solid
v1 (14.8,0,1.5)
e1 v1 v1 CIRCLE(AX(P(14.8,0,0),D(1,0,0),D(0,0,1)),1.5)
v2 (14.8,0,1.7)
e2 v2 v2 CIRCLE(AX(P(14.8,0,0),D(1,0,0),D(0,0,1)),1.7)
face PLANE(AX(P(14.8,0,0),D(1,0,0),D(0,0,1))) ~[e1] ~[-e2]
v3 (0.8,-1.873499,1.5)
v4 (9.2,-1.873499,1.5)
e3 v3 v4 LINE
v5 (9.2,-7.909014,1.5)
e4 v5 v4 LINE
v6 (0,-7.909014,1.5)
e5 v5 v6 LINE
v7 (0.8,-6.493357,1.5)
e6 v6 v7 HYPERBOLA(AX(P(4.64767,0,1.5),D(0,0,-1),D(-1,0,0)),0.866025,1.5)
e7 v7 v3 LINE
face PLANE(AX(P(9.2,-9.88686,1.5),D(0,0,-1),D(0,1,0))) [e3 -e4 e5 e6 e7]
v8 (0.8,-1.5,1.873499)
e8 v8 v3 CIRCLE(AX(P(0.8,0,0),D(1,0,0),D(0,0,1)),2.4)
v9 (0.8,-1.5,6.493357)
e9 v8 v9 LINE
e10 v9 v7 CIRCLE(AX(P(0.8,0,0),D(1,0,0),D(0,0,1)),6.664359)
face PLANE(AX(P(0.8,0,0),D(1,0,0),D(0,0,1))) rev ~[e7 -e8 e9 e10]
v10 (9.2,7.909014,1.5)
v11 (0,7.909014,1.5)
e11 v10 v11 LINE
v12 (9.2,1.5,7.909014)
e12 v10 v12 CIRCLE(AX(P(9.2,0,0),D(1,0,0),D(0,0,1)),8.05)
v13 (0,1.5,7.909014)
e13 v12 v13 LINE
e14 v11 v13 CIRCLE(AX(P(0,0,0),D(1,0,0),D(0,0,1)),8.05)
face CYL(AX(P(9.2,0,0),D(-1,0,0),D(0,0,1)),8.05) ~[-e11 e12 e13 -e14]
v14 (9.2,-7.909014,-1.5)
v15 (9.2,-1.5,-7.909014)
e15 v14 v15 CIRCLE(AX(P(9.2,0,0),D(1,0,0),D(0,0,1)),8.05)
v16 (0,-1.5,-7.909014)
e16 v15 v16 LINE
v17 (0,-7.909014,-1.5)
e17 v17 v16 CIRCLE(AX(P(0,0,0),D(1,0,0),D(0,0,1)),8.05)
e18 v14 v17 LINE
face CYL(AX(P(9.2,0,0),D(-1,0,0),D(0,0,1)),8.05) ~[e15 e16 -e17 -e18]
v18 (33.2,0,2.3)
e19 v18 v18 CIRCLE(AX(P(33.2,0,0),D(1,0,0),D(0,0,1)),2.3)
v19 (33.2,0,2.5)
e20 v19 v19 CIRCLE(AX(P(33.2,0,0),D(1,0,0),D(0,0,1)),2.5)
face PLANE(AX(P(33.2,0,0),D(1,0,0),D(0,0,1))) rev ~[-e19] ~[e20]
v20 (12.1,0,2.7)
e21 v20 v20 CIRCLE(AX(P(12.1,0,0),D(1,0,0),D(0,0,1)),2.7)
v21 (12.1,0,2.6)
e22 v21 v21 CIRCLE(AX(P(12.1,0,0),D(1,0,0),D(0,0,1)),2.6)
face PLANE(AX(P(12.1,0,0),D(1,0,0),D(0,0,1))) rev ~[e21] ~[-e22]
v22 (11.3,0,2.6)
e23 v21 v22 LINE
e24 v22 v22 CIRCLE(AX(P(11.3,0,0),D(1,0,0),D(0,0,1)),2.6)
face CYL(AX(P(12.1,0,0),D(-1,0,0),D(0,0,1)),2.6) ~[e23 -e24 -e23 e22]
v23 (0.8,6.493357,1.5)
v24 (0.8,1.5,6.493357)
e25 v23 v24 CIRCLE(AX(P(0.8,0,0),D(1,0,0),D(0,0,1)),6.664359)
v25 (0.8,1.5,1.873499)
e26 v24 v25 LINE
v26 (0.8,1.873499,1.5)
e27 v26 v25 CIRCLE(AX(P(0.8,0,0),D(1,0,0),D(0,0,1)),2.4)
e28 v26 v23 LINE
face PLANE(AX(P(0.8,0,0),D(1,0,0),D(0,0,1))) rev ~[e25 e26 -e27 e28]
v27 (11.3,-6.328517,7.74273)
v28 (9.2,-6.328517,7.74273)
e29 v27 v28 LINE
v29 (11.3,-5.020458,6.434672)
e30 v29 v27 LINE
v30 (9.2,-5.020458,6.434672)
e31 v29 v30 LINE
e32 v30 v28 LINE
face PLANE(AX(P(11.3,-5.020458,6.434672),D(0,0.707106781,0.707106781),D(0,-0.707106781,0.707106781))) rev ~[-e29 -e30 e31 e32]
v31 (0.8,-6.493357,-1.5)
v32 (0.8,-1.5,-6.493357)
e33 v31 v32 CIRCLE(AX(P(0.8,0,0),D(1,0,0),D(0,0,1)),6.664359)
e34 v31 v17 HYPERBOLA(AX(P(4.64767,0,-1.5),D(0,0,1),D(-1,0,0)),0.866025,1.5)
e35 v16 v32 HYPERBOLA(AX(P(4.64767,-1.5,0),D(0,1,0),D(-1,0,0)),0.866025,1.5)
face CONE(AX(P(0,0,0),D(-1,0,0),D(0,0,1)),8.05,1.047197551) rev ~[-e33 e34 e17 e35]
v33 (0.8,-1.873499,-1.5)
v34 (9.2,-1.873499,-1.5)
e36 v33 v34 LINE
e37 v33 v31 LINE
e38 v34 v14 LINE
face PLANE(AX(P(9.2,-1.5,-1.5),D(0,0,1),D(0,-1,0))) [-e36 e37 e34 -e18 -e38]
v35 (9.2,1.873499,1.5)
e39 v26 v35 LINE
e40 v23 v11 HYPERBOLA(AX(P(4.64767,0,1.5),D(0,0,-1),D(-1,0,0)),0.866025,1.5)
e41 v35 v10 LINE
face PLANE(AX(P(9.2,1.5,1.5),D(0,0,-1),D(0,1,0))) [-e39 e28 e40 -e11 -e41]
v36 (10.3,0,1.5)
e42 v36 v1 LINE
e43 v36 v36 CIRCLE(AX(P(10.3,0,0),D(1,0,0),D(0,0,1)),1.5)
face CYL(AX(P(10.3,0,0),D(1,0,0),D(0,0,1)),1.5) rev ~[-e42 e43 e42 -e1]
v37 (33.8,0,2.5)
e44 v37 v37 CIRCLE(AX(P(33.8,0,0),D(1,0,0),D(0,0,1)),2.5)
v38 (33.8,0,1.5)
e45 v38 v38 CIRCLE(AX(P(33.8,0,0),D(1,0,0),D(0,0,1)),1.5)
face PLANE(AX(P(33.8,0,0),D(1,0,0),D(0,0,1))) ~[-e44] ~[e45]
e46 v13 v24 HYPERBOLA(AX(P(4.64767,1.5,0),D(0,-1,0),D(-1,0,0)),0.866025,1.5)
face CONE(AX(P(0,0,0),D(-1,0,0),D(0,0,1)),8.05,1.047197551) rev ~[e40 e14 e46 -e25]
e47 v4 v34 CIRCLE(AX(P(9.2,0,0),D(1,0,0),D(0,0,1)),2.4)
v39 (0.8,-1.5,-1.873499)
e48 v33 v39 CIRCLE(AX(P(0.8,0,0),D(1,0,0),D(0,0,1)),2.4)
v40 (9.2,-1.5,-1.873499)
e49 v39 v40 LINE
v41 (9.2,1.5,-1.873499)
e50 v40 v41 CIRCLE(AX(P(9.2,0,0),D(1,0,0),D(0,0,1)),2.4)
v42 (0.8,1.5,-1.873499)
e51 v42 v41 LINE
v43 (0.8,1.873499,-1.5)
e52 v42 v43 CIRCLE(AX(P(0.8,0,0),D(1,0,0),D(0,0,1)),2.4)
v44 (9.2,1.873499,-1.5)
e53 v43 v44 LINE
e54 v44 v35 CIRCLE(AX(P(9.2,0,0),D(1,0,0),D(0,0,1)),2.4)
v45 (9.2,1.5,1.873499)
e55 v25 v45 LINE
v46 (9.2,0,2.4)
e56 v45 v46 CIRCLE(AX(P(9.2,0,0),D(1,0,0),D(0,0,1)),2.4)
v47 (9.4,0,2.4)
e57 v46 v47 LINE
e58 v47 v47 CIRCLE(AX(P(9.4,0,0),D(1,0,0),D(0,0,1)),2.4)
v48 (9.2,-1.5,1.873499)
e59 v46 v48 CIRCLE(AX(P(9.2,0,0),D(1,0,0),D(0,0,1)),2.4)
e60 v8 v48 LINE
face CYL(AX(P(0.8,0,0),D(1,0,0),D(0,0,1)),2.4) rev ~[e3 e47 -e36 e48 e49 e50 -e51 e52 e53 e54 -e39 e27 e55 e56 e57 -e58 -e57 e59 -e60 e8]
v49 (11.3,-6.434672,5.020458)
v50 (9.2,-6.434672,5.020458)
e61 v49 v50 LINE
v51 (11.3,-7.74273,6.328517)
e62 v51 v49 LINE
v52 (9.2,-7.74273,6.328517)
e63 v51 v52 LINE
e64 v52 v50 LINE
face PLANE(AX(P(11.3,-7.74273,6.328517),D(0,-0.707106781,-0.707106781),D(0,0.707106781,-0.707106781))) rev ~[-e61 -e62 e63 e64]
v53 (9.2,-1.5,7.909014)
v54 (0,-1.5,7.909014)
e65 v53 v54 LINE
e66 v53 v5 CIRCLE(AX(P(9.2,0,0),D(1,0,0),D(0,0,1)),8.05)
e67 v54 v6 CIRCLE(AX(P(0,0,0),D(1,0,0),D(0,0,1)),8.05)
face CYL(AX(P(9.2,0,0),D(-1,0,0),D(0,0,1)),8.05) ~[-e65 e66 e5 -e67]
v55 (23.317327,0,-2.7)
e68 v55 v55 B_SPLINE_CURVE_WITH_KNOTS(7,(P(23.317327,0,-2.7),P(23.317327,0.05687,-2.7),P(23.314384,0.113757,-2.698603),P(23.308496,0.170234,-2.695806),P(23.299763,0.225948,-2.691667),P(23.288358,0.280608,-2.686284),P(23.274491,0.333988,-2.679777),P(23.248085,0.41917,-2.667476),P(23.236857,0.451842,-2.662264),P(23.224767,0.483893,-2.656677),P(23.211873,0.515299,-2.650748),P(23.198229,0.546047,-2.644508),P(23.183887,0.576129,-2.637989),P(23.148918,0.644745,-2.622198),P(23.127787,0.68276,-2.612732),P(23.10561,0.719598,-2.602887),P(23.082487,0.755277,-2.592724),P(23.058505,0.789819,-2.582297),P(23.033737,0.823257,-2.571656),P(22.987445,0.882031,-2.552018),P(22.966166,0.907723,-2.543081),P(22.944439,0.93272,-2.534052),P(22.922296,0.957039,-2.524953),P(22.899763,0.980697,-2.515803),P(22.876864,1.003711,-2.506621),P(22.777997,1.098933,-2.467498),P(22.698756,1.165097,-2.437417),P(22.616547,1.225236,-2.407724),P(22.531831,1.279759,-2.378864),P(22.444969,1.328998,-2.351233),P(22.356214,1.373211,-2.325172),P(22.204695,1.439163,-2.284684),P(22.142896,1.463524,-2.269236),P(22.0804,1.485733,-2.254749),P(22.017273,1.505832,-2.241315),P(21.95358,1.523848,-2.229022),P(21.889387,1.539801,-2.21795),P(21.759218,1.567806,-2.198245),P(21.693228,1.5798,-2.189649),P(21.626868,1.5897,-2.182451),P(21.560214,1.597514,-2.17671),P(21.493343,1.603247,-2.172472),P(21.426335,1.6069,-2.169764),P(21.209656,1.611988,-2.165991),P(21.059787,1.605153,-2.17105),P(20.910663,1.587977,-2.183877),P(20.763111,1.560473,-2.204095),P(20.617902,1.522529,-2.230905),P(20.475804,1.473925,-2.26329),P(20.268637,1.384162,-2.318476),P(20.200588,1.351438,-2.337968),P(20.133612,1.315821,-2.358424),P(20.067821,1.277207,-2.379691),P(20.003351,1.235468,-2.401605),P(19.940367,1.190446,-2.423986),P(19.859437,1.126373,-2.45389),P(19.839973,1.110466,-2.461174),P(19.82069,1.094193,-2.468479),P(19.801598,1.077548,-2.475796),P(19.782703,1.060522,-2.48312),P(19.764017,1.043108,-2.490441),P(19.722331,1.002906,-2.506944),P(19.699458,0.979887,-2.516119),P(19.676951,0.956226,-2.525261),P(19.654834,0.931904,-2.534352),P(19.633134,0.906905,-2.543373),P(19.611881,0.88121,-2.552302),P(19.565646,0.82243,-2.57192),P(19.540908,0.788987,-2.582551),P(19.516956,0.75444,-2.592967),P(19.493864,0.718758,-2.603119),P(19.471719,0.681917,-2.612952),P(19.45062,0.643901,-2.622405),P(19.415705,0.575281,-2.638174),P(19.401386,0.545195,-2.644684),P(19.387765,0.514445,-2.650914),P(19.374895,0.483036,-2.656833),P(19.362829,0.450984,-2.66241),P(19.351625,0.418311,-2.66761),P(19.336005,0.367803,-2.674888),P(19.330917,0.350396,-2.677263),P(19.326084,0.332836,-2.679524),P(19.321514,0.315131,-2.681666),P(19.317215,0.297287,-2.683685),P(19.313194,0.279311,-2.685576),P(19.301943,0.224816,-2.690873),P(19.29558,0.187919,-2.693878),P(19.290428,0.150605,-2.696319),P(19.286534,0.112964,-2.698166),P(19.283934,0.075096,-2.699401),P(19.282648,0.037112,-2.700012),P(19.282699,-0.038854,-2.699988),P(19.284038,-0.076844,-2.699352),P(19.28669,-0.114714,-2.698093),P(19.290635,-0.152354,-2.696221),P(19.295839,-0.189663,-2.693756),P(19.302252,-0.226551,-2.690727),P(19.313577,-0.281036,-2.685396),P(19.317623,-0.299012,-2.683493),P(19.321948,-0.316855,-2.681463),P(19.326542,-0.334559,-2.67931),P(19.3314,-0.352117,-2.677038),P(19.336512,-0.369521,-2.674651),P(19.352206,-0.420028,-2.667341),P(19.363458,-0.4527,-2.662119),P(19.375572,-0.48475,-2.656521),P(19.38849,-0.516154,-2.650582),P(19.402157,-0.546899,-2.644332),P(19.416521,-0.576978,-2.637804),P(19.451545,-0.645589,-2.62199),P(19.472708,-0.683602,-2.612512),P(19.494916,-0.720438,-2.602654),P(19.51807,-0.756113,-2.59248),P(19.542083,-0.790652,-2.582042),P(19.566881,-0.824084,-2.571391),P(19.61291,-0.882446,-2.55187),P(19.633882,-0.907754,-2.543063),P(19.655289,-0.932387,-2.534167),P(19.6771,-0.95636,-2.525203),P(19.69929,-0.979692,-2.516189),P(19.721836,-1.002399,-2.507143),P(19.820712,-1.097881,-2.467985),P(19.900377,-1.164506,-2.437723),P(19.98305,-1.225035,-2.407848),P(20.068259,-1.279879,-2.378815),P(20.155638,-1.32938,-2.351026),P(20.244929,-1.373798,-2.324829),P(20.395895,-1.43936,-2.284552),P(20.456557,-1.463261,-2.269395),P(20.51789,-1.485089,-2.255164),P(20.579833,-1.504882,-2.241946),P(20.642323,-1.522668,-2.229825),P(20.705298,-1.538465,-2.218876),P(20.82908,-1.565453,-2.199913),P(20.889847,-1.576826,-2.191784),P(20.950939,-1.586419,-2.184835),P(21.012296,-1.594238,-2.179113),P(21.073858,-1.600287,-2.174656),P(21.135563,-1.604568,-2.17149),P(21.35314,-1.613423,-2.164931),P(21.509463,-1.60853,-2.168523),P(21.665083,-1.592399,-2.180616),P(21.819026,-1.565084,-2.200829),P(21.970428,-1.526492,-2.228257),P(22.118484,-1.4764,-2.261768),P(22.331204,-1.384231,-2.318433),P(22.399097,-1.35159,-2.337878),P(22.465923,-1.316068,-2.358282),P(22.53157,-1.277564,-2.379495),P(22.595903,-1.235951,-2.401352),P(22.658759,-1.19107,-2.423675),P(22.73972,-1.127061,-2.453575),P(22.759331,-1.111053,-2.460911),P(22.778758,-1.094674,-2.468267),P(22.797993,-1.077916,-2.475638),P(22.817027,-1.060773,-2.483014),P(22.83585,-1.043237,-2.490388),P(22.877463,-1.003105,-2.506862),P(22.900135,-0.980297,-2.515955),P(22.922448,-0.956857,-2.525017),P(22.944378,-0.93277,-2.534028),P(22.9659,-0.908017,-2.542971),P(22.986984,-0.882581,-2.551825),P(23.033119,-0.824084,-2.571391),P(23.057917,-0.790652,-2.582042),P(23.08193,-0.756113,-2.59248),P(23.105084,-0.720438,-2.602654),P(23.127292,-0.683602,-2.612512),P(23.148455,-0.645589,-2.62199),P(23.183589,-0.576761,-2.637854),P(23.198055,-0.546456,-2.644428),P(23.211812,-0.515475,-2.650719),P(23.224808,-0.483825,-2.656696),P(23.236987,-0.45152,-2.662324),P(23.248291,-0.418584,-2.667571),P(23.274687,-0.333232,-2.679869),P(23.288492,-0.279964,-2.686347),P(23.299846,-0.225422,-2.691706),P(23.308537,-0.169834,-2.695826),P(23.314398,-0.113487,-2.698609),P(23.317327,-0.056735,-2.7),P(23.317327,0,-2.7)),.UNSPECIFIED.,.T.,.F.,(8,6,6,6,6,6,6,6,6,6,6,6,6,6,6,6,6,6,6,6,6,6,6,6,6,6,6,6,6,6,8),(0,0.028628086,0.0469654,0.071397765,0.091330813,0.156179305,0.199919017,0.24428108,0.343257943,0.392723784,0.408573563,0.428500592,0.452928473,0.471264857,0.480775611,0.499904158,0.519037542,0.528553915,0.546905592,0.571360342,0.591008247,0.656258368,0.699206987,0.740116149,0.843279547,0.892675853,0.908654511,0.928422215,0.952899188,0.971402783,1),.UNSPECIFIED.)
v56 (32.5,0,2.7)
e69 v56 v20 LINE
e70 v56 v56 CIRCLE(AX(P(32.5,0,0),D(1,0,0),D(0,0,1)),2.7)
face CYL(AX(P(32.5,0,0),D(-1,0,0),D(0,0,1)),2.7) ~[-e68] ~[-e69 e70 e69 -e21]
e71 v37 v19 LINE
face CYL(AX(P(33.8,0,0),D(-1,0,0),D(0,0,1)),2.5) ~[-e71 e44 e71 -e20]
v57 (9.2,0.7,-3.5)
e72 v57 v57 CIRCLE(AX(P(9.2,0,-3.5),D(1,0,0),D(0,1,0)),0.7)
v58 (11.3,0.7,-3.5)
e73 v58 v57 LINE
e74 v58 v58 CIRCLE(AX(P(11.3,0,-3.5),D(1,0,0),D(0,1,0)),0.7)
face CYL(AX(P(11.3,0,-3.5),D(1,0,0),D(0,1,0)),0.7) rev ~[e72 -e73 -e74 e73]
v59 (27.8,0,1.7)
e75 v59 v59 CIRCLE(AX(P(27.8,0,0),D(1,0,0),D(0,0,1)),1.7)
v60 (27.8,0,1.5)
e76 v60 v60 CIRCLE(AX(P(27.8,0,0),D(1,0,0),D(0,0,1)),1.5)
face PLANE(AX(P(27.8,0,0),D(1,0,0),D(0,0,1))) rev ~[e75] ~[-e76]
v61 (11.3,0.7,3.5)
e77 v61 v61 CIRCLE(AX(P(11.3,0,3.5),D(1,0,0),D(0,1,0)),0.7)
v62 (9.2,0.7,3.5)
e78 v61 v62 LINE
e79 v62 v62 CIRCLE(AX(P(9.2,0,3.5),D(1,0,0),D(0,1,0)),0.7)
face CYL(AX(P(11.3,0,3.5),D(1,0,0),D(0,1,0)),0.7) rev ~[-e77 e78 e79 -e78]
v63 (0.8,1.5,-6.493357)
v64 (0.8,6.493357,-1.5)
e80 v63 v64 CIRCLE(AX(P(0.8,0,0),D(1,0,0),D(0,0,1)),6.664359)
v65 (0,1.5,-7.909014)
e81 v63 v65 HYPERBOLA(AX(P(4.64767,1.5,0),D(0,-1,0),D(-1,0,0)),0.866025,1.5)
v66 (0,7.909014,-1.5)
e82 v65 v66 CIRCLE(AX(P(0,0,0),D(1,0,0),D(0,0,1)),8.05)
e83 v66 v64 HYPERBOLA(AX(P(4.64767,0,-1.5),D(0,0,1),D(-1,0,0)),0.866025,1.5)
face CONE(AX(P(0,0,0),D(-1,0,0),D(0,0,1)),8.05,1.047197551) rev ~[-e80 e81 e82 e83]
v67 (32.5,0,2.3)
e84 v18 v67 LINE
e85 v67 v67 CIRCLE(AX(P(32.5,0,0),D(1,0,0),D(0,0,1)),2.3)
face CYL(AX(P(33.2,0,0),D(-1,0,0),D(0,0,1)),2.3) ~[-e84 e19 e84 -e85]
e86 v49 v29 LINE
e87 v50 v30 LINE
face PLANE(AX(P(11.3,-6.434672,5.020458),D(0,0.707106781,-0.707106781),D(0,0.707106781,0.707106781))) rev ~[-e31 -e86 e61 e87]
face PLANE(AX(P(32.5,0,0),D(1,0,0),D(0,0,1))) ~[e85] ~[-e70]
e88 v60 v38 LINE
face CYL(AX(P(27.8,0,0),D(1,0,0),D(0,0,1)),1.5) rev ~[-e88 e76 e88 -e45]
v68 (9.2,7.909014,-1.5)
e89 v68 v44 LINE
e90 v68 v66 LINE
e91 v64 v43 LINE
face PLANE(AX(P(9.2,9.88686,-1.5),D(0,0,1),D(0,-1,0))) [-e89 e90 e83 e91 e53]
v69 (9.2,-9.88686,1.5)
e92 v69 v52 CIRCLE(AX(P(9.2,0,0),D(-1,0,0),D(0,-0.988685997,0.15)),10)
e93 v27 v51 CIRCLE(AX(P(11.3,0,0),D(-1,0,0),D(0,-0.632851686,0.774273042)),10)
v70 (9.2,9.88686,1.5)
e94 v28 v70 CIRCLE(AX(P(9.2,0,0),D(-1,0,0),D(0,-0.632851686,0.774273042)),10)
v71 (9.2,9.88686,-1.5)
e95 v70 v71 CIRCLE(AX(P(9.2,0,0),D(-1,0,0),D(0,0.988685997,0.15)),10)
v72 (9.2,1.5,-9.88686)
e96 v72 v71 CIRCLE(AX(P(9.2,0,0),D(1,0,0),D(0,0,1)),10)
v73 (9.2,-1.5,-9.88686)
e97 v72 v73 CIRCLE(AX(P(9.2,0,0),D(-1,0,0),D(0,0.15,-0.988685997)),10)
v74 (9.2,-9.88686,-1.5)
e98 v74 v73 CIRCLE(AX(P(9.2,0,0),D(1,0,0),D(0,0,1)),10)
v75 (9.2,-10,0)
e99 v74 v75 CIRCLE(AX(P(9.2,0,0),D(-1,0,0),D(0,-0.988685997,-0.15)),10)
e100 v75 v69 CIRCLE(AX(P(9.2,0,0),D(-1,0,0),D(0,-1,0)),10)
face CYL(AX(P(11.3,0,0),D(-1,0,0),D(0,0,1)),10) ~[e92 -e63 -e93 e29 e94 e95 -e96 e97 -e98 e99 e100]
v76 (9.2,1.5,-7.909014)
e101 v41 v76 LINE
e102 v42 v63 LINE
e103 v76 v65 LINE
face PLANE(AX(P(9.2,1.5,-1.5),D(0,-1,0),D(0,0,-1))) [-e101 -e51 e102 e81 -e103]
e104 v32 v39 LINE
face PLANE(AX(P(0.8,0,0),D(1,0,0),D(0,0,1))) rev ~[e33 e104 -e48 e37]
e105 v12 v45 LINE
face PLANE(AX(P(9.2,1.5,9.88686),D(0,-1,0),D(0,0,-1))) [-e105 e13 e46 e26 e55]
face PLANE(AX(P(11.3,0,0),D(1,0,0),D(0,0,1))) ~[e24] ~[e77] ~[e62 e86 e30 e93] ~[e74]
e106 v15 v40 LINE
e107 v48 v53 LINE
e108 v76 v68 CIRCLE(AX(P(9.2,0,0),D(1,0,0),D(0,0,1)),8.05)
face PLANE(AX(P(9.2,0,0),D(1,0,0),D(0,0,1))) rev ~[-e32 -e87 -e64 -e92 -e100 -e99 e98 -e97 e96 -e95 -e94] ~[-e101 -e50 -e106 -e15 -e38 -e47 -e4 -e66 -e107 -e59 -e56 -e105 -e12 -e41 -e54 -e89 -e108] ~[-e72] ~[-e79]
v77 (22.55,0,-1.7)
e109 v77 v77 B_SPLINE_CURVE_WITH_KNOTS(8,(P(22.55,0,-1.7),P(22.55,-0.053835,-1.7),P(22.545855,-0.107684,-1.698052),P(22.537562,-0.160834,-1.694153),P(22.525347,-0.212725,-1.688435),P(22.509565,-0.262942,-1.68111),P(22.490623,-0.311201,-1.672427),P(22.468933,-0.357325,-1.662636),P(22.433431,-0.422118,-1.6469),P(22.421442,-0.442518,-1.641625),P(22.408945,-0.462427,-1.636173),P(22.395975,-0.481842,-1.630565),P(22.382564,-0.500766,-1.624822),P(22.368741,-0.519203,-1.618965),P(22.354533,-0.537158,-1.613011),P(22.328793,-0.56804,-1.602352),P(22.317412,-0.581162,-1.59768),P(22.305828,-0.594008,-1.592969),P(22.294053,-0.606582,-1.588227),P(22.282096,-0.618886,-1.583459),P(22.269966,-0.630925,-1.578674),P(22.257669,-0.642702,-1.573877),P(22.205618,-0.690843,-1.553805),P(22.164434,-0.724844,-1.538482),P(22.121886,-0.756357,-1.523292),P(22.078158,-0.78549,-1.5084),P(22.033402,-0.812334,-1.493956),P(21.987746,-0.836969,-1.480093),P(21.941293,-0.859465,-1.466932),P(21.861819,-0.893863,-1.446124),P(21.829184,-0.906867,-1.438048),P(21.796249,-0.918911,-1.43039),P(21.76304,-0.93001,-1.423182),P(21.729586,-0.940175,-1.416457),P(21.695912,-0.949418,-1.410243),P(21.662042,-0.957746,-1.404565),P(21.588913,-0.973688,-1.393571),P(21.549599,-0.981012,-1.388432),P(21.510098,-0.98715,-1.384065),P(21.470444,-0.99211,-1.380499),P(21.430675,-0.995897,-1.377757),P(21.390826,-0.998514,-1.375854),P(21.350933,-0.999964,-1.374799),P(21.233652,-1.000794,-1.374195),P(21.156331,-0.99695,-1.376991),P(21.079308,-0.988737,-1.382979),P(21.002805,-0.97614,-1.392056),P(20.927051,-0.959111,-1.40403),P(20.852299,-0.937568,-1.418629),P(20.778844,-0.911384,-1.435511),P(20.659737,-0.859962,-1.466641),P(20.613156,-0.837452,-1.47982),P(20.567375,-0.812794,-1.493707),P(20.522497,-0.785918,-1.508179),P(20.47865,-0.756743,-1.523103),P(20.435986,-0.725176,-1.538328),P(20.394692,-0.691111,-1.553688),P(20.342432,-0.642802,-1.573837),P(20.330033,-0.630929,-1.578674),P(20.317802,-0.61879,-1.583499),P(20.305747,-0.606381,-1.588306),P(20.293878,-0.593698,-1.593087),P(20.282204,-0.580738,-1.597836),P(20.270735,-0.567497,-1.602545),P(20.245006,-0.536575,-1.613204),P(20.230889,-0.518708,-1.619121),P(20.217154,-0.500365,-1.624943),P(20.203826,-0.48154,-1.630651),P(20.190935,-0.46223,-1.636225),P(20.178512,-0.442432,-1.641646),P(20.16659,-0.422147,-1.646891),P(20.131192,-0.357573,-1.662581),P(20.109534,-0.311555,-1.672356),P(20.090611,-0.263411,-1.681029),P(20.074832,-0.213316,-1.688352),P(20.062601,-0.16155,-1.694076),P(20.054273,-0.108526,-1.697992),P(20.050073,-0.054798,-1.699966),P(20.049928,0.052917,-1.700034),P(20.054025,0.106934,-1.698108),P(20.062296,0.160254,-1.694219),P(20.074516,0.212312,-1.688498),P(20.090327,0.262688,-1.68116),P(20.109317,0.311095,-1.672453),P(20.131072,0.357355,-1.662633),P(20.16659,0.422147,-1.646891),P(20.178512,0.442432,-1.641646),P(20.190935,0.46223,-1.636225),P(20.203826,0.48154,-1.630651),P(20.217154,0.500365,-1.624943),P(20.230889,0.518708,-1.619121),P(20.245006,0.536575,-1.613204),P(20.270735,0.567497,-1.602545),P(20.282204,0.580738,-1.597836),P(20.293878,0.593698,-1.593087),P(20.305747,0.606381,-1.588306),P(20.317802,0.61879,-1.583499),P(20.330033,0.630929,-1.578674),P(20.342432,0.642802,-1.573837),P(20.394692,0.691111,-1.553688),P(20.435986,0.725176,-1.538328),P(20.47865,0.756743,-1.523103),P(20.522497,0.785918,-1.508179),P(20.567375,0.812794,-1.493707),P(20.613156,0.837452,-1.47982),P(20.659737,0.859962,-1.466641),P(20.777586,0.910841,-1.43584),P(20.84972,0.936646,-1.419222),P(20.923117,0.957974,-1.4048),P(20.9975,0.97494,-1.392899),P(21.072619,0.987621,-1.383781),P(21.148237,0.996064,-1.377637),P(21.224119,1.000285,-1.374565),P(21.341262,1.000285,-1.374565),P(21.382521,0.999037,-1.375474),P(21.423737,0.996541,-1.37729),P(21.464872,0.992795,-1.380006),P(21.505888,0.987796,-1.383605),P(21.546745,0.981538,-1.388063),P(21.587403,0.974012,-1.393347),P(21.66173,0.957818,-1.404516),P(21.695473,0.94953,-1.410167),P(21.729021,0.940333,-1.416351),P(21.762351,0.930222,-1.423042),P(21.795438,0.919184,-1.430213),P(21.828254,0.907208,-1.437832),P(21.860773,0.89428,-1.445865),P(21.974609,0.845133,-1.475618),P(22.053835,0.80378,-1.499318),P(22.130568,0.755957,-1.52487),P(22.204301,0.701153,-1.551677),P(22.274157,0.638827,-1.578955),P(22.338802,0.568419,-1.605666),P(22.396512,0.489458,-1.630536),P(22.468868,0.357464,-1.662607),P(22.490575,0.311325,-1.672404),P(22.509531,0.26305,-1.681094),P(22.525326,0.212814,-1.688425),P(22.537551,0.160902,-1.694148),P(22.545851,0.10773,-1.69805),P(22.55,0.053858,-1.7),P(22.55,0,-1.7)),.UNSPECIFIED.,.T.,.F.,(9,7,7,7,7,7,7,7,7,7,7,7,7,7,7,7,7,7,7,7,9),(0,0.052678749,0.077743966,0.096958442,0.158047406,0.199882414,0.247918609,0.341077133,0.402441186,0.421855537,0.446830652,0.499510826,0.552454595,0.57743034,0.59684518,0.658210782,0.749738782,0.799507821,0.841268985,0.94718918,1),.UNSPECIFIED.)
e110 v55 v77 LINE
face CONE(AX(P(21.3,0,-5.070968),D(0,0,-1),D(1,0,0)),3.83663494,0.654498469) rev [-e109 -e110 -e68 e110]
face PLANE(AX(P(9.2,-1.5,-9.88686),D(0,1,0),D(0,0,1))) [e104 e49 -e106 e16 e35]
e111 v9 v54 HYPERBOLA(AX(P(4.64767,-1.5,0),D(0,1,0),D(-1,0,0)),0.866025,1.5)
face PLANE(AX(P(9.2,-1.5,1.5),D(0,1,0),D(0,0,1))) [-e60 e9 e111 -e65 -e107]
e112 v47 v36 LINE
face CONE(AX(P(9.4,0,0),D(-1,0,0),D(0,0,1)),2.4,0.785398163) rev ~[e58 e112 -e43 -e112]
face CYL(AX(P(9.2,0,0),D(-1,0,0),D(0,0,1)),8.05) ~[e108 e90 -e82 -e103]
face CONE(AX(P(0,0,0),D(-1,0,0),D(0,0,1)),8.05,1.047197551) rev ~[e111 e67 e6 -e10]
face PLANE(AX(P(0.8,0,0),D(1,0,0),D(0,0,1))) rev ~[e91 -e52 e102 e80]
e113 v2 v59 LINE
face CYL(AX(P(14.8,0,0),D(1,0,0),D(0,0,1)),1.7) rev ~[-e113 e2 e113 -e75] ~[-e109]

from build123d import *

# Parameters (mm, degrees)
F2_W     = 3
F2_H     = 3
F3_DEPTH = 9.201
F4_R     = 0.7
F5_DEPTH = 11.301


with BuildPart() as f1:
    # F0 (on Front) → F1 (revolve)
    with BuildSketch(Plane.XZ):
        Polygon((9.2, 8.05), (0, 8.05), (0.8, 6.6643593539), (0.8, 2.4), (9.4, 2.4), (10.3, 1.5), (14.8, 1.5), (14.8, 1.7), (27.8, 1.7), (27.8, 1.5), (33.8, 1.5), (33.8, 2.5), (33.2, 2.5), (33.2, 2.3), (32.5, 2.3), (32.5, 2.7), (12.1, 2.7), (12.1, 2.6), (11.3, 2.6), (11.3, 10), (9.2, 10), align=None)
    revolve(axis=Axis((16.7398190946, 0, 0), (1, 0, 0)))

    # F2 (on face) → F3 (cut, through all)
    with BuildSketch(Plane(origin=(9.2, 0, 0), x_dir=(0, -1, 0), z_dir=(-1, 0, 0))):
        with BuildLine():
            Line((1.5, 1.5), (1.5, 7.909013845))
            ThreePointArc((1.5, 7.909013845), (0, 8.05), (-1.5, 7.909013845))
            Line((-1.5, 7.909013845), (-1.5, 1.5))
            Line((-1.5, 1.5), (1.5, 1.5))
        make_face()
        with BuildLine():
            Line((1.5, 7.909013845), (1.5, 9.8868599666))
            ThreePointArc((1.5, 9.8868599666), (0, 10), (-1.5, 9.8868599666))
            Line((-1.5, 9.8868599666), (-1.5, 7.909013845))
            ThreePointArc((-1.5, 7.909013845), (0, 8.05), (1.5, 7.909013845))
        make_face()
        with BuildLine():
            Line((-1.5, -1.5), (-1.5, 1.5))
            Line((-1.5, 1.5), (-7.909013845, 1.5))
            ThreePointArc((-7.909013845, 1.5), (-8.05, 0), (-7.909013845, -1.5))
            Line((-7.909013845, -1.5), (-1.5, -1.5))
        make_face()
        with BuildLine():
            Line((-7.909013845, 1.5), (-9.8868599666, 1.5))
            ThreePointArc((-9.8868599666, 1.5), (-10, 0), (-9.8868599666, -1.5))
            Line((-9.8868599666, -1.5), (-7.909013845, -1.5))
            ThreePointArc((-7.909013845, -1.5), (-8.05, 0), (-7.909013845, 1.5))
        make_face()
        Rectangle(F2_W, F2_H)
        with BuildLine():
            ThreePointArc((8.05, 0), (8.0146759589, 0.7533055648), (7.909013845, 1.5))
            Line((7.909013845, 1.5), (1.5, 1.5))
            Line((1.5, 1.5), (1.5, -1.5))
            Line((1.5, -1.5), (7.909013845, -1.5))
            ThreePointArc((7.909013845, -1.5), (8.0146759589, -0.7533055648), (8.05, 0))
        make_face()
        with BuildLine():
            ThreePointArc((9.8868599666, -1.5), (9.971674876, -0.7521304187), (10, 0))
            ThreePointArc((10, 0), (9.971674876, 0.7521304187), (9.8868599666, 1.5))
            Line((9.8868599666, 1.5), (7.909013845, 1.5))
            ThreePointArc((7.909013845, 1.5), (8.0146759589, 0.7533055648), (8.05, 0))
            ThreePointArc((8.05, 0), (8.0146759589, -0.7533055648), (7.909013845, -1.5))
            Line((7.909013845, -1.5), (9.8868599666, -1.5))
        make_face()
        with BuildLine():
            ThreePointArc((-1.5, -7.909013845), (0, -8.05), (1.5, -7.909013845))
            Line((1.5, -7.909013845), (1.5, -1.5))
            Line((1.5, -1.5), (-1.5, -1.5))
            Line((-1.5, -1.5), (-1.5, -7.909013845))
        make_face()
        with BuildLine():
            ThreePointArc((-1.5, -9.8868599666), (0, -10), (1.5, -9.8868599666))
            Line((1.5, -9.8868599666), (1.5, -7.909013845))
            ThreePointArc((1.5, -7.909013845), (0, -8.05), (-1.5, -7.909013845))
            Line((-1.5, -7.909013845), (-1.5, -9.8868599666))
        make_face()
    extrude(amount=F3_DEPTH, mode=Mode.SUBTRACT)

    # F4 (on face) → F5 (cut, through all)
    with BuildSketch(Plane.YZ.offset(11.3)):
        with BuildLine():
            Line((-5.0204581464, 6.4346717088), (-6.3285168585, 7.7427304209))
            ThreePointArc((-6.3285168585, 7.7427304209), (-7.0710678119, 7.0710678119), (-7.7427304209, 6.3285168585))
            Line((-7.7427304209, 6.3285168585), (-6.4346717088, 5.0204581464))
            Line((-6.4346717088, 5.0204581464), (-5.0204581464, 6.4346717088))
        make_face()
        with Locations((0, 3.5)):
            Circle(F4_R)
        with Locations((0, -3.5)):
            Circle(F4_R)
    extrude(amount=-F5_DEPTH, mode=Mode.SUBTRACT)

    # F0 (on Front) → F6 (revolve, cut)
    with BuildSketch(Plane.XZ):
        Polygon((25.1366349399, -5.0709682839), (21.3, -0.0709682839), (21.3, -5.0709682839), align=None)
    revolve(axis=Axis((21.3, 0, -2.5709682839), (0, 0, -1)), mode=Mode.SUBTRACT)


solid = f1.part
